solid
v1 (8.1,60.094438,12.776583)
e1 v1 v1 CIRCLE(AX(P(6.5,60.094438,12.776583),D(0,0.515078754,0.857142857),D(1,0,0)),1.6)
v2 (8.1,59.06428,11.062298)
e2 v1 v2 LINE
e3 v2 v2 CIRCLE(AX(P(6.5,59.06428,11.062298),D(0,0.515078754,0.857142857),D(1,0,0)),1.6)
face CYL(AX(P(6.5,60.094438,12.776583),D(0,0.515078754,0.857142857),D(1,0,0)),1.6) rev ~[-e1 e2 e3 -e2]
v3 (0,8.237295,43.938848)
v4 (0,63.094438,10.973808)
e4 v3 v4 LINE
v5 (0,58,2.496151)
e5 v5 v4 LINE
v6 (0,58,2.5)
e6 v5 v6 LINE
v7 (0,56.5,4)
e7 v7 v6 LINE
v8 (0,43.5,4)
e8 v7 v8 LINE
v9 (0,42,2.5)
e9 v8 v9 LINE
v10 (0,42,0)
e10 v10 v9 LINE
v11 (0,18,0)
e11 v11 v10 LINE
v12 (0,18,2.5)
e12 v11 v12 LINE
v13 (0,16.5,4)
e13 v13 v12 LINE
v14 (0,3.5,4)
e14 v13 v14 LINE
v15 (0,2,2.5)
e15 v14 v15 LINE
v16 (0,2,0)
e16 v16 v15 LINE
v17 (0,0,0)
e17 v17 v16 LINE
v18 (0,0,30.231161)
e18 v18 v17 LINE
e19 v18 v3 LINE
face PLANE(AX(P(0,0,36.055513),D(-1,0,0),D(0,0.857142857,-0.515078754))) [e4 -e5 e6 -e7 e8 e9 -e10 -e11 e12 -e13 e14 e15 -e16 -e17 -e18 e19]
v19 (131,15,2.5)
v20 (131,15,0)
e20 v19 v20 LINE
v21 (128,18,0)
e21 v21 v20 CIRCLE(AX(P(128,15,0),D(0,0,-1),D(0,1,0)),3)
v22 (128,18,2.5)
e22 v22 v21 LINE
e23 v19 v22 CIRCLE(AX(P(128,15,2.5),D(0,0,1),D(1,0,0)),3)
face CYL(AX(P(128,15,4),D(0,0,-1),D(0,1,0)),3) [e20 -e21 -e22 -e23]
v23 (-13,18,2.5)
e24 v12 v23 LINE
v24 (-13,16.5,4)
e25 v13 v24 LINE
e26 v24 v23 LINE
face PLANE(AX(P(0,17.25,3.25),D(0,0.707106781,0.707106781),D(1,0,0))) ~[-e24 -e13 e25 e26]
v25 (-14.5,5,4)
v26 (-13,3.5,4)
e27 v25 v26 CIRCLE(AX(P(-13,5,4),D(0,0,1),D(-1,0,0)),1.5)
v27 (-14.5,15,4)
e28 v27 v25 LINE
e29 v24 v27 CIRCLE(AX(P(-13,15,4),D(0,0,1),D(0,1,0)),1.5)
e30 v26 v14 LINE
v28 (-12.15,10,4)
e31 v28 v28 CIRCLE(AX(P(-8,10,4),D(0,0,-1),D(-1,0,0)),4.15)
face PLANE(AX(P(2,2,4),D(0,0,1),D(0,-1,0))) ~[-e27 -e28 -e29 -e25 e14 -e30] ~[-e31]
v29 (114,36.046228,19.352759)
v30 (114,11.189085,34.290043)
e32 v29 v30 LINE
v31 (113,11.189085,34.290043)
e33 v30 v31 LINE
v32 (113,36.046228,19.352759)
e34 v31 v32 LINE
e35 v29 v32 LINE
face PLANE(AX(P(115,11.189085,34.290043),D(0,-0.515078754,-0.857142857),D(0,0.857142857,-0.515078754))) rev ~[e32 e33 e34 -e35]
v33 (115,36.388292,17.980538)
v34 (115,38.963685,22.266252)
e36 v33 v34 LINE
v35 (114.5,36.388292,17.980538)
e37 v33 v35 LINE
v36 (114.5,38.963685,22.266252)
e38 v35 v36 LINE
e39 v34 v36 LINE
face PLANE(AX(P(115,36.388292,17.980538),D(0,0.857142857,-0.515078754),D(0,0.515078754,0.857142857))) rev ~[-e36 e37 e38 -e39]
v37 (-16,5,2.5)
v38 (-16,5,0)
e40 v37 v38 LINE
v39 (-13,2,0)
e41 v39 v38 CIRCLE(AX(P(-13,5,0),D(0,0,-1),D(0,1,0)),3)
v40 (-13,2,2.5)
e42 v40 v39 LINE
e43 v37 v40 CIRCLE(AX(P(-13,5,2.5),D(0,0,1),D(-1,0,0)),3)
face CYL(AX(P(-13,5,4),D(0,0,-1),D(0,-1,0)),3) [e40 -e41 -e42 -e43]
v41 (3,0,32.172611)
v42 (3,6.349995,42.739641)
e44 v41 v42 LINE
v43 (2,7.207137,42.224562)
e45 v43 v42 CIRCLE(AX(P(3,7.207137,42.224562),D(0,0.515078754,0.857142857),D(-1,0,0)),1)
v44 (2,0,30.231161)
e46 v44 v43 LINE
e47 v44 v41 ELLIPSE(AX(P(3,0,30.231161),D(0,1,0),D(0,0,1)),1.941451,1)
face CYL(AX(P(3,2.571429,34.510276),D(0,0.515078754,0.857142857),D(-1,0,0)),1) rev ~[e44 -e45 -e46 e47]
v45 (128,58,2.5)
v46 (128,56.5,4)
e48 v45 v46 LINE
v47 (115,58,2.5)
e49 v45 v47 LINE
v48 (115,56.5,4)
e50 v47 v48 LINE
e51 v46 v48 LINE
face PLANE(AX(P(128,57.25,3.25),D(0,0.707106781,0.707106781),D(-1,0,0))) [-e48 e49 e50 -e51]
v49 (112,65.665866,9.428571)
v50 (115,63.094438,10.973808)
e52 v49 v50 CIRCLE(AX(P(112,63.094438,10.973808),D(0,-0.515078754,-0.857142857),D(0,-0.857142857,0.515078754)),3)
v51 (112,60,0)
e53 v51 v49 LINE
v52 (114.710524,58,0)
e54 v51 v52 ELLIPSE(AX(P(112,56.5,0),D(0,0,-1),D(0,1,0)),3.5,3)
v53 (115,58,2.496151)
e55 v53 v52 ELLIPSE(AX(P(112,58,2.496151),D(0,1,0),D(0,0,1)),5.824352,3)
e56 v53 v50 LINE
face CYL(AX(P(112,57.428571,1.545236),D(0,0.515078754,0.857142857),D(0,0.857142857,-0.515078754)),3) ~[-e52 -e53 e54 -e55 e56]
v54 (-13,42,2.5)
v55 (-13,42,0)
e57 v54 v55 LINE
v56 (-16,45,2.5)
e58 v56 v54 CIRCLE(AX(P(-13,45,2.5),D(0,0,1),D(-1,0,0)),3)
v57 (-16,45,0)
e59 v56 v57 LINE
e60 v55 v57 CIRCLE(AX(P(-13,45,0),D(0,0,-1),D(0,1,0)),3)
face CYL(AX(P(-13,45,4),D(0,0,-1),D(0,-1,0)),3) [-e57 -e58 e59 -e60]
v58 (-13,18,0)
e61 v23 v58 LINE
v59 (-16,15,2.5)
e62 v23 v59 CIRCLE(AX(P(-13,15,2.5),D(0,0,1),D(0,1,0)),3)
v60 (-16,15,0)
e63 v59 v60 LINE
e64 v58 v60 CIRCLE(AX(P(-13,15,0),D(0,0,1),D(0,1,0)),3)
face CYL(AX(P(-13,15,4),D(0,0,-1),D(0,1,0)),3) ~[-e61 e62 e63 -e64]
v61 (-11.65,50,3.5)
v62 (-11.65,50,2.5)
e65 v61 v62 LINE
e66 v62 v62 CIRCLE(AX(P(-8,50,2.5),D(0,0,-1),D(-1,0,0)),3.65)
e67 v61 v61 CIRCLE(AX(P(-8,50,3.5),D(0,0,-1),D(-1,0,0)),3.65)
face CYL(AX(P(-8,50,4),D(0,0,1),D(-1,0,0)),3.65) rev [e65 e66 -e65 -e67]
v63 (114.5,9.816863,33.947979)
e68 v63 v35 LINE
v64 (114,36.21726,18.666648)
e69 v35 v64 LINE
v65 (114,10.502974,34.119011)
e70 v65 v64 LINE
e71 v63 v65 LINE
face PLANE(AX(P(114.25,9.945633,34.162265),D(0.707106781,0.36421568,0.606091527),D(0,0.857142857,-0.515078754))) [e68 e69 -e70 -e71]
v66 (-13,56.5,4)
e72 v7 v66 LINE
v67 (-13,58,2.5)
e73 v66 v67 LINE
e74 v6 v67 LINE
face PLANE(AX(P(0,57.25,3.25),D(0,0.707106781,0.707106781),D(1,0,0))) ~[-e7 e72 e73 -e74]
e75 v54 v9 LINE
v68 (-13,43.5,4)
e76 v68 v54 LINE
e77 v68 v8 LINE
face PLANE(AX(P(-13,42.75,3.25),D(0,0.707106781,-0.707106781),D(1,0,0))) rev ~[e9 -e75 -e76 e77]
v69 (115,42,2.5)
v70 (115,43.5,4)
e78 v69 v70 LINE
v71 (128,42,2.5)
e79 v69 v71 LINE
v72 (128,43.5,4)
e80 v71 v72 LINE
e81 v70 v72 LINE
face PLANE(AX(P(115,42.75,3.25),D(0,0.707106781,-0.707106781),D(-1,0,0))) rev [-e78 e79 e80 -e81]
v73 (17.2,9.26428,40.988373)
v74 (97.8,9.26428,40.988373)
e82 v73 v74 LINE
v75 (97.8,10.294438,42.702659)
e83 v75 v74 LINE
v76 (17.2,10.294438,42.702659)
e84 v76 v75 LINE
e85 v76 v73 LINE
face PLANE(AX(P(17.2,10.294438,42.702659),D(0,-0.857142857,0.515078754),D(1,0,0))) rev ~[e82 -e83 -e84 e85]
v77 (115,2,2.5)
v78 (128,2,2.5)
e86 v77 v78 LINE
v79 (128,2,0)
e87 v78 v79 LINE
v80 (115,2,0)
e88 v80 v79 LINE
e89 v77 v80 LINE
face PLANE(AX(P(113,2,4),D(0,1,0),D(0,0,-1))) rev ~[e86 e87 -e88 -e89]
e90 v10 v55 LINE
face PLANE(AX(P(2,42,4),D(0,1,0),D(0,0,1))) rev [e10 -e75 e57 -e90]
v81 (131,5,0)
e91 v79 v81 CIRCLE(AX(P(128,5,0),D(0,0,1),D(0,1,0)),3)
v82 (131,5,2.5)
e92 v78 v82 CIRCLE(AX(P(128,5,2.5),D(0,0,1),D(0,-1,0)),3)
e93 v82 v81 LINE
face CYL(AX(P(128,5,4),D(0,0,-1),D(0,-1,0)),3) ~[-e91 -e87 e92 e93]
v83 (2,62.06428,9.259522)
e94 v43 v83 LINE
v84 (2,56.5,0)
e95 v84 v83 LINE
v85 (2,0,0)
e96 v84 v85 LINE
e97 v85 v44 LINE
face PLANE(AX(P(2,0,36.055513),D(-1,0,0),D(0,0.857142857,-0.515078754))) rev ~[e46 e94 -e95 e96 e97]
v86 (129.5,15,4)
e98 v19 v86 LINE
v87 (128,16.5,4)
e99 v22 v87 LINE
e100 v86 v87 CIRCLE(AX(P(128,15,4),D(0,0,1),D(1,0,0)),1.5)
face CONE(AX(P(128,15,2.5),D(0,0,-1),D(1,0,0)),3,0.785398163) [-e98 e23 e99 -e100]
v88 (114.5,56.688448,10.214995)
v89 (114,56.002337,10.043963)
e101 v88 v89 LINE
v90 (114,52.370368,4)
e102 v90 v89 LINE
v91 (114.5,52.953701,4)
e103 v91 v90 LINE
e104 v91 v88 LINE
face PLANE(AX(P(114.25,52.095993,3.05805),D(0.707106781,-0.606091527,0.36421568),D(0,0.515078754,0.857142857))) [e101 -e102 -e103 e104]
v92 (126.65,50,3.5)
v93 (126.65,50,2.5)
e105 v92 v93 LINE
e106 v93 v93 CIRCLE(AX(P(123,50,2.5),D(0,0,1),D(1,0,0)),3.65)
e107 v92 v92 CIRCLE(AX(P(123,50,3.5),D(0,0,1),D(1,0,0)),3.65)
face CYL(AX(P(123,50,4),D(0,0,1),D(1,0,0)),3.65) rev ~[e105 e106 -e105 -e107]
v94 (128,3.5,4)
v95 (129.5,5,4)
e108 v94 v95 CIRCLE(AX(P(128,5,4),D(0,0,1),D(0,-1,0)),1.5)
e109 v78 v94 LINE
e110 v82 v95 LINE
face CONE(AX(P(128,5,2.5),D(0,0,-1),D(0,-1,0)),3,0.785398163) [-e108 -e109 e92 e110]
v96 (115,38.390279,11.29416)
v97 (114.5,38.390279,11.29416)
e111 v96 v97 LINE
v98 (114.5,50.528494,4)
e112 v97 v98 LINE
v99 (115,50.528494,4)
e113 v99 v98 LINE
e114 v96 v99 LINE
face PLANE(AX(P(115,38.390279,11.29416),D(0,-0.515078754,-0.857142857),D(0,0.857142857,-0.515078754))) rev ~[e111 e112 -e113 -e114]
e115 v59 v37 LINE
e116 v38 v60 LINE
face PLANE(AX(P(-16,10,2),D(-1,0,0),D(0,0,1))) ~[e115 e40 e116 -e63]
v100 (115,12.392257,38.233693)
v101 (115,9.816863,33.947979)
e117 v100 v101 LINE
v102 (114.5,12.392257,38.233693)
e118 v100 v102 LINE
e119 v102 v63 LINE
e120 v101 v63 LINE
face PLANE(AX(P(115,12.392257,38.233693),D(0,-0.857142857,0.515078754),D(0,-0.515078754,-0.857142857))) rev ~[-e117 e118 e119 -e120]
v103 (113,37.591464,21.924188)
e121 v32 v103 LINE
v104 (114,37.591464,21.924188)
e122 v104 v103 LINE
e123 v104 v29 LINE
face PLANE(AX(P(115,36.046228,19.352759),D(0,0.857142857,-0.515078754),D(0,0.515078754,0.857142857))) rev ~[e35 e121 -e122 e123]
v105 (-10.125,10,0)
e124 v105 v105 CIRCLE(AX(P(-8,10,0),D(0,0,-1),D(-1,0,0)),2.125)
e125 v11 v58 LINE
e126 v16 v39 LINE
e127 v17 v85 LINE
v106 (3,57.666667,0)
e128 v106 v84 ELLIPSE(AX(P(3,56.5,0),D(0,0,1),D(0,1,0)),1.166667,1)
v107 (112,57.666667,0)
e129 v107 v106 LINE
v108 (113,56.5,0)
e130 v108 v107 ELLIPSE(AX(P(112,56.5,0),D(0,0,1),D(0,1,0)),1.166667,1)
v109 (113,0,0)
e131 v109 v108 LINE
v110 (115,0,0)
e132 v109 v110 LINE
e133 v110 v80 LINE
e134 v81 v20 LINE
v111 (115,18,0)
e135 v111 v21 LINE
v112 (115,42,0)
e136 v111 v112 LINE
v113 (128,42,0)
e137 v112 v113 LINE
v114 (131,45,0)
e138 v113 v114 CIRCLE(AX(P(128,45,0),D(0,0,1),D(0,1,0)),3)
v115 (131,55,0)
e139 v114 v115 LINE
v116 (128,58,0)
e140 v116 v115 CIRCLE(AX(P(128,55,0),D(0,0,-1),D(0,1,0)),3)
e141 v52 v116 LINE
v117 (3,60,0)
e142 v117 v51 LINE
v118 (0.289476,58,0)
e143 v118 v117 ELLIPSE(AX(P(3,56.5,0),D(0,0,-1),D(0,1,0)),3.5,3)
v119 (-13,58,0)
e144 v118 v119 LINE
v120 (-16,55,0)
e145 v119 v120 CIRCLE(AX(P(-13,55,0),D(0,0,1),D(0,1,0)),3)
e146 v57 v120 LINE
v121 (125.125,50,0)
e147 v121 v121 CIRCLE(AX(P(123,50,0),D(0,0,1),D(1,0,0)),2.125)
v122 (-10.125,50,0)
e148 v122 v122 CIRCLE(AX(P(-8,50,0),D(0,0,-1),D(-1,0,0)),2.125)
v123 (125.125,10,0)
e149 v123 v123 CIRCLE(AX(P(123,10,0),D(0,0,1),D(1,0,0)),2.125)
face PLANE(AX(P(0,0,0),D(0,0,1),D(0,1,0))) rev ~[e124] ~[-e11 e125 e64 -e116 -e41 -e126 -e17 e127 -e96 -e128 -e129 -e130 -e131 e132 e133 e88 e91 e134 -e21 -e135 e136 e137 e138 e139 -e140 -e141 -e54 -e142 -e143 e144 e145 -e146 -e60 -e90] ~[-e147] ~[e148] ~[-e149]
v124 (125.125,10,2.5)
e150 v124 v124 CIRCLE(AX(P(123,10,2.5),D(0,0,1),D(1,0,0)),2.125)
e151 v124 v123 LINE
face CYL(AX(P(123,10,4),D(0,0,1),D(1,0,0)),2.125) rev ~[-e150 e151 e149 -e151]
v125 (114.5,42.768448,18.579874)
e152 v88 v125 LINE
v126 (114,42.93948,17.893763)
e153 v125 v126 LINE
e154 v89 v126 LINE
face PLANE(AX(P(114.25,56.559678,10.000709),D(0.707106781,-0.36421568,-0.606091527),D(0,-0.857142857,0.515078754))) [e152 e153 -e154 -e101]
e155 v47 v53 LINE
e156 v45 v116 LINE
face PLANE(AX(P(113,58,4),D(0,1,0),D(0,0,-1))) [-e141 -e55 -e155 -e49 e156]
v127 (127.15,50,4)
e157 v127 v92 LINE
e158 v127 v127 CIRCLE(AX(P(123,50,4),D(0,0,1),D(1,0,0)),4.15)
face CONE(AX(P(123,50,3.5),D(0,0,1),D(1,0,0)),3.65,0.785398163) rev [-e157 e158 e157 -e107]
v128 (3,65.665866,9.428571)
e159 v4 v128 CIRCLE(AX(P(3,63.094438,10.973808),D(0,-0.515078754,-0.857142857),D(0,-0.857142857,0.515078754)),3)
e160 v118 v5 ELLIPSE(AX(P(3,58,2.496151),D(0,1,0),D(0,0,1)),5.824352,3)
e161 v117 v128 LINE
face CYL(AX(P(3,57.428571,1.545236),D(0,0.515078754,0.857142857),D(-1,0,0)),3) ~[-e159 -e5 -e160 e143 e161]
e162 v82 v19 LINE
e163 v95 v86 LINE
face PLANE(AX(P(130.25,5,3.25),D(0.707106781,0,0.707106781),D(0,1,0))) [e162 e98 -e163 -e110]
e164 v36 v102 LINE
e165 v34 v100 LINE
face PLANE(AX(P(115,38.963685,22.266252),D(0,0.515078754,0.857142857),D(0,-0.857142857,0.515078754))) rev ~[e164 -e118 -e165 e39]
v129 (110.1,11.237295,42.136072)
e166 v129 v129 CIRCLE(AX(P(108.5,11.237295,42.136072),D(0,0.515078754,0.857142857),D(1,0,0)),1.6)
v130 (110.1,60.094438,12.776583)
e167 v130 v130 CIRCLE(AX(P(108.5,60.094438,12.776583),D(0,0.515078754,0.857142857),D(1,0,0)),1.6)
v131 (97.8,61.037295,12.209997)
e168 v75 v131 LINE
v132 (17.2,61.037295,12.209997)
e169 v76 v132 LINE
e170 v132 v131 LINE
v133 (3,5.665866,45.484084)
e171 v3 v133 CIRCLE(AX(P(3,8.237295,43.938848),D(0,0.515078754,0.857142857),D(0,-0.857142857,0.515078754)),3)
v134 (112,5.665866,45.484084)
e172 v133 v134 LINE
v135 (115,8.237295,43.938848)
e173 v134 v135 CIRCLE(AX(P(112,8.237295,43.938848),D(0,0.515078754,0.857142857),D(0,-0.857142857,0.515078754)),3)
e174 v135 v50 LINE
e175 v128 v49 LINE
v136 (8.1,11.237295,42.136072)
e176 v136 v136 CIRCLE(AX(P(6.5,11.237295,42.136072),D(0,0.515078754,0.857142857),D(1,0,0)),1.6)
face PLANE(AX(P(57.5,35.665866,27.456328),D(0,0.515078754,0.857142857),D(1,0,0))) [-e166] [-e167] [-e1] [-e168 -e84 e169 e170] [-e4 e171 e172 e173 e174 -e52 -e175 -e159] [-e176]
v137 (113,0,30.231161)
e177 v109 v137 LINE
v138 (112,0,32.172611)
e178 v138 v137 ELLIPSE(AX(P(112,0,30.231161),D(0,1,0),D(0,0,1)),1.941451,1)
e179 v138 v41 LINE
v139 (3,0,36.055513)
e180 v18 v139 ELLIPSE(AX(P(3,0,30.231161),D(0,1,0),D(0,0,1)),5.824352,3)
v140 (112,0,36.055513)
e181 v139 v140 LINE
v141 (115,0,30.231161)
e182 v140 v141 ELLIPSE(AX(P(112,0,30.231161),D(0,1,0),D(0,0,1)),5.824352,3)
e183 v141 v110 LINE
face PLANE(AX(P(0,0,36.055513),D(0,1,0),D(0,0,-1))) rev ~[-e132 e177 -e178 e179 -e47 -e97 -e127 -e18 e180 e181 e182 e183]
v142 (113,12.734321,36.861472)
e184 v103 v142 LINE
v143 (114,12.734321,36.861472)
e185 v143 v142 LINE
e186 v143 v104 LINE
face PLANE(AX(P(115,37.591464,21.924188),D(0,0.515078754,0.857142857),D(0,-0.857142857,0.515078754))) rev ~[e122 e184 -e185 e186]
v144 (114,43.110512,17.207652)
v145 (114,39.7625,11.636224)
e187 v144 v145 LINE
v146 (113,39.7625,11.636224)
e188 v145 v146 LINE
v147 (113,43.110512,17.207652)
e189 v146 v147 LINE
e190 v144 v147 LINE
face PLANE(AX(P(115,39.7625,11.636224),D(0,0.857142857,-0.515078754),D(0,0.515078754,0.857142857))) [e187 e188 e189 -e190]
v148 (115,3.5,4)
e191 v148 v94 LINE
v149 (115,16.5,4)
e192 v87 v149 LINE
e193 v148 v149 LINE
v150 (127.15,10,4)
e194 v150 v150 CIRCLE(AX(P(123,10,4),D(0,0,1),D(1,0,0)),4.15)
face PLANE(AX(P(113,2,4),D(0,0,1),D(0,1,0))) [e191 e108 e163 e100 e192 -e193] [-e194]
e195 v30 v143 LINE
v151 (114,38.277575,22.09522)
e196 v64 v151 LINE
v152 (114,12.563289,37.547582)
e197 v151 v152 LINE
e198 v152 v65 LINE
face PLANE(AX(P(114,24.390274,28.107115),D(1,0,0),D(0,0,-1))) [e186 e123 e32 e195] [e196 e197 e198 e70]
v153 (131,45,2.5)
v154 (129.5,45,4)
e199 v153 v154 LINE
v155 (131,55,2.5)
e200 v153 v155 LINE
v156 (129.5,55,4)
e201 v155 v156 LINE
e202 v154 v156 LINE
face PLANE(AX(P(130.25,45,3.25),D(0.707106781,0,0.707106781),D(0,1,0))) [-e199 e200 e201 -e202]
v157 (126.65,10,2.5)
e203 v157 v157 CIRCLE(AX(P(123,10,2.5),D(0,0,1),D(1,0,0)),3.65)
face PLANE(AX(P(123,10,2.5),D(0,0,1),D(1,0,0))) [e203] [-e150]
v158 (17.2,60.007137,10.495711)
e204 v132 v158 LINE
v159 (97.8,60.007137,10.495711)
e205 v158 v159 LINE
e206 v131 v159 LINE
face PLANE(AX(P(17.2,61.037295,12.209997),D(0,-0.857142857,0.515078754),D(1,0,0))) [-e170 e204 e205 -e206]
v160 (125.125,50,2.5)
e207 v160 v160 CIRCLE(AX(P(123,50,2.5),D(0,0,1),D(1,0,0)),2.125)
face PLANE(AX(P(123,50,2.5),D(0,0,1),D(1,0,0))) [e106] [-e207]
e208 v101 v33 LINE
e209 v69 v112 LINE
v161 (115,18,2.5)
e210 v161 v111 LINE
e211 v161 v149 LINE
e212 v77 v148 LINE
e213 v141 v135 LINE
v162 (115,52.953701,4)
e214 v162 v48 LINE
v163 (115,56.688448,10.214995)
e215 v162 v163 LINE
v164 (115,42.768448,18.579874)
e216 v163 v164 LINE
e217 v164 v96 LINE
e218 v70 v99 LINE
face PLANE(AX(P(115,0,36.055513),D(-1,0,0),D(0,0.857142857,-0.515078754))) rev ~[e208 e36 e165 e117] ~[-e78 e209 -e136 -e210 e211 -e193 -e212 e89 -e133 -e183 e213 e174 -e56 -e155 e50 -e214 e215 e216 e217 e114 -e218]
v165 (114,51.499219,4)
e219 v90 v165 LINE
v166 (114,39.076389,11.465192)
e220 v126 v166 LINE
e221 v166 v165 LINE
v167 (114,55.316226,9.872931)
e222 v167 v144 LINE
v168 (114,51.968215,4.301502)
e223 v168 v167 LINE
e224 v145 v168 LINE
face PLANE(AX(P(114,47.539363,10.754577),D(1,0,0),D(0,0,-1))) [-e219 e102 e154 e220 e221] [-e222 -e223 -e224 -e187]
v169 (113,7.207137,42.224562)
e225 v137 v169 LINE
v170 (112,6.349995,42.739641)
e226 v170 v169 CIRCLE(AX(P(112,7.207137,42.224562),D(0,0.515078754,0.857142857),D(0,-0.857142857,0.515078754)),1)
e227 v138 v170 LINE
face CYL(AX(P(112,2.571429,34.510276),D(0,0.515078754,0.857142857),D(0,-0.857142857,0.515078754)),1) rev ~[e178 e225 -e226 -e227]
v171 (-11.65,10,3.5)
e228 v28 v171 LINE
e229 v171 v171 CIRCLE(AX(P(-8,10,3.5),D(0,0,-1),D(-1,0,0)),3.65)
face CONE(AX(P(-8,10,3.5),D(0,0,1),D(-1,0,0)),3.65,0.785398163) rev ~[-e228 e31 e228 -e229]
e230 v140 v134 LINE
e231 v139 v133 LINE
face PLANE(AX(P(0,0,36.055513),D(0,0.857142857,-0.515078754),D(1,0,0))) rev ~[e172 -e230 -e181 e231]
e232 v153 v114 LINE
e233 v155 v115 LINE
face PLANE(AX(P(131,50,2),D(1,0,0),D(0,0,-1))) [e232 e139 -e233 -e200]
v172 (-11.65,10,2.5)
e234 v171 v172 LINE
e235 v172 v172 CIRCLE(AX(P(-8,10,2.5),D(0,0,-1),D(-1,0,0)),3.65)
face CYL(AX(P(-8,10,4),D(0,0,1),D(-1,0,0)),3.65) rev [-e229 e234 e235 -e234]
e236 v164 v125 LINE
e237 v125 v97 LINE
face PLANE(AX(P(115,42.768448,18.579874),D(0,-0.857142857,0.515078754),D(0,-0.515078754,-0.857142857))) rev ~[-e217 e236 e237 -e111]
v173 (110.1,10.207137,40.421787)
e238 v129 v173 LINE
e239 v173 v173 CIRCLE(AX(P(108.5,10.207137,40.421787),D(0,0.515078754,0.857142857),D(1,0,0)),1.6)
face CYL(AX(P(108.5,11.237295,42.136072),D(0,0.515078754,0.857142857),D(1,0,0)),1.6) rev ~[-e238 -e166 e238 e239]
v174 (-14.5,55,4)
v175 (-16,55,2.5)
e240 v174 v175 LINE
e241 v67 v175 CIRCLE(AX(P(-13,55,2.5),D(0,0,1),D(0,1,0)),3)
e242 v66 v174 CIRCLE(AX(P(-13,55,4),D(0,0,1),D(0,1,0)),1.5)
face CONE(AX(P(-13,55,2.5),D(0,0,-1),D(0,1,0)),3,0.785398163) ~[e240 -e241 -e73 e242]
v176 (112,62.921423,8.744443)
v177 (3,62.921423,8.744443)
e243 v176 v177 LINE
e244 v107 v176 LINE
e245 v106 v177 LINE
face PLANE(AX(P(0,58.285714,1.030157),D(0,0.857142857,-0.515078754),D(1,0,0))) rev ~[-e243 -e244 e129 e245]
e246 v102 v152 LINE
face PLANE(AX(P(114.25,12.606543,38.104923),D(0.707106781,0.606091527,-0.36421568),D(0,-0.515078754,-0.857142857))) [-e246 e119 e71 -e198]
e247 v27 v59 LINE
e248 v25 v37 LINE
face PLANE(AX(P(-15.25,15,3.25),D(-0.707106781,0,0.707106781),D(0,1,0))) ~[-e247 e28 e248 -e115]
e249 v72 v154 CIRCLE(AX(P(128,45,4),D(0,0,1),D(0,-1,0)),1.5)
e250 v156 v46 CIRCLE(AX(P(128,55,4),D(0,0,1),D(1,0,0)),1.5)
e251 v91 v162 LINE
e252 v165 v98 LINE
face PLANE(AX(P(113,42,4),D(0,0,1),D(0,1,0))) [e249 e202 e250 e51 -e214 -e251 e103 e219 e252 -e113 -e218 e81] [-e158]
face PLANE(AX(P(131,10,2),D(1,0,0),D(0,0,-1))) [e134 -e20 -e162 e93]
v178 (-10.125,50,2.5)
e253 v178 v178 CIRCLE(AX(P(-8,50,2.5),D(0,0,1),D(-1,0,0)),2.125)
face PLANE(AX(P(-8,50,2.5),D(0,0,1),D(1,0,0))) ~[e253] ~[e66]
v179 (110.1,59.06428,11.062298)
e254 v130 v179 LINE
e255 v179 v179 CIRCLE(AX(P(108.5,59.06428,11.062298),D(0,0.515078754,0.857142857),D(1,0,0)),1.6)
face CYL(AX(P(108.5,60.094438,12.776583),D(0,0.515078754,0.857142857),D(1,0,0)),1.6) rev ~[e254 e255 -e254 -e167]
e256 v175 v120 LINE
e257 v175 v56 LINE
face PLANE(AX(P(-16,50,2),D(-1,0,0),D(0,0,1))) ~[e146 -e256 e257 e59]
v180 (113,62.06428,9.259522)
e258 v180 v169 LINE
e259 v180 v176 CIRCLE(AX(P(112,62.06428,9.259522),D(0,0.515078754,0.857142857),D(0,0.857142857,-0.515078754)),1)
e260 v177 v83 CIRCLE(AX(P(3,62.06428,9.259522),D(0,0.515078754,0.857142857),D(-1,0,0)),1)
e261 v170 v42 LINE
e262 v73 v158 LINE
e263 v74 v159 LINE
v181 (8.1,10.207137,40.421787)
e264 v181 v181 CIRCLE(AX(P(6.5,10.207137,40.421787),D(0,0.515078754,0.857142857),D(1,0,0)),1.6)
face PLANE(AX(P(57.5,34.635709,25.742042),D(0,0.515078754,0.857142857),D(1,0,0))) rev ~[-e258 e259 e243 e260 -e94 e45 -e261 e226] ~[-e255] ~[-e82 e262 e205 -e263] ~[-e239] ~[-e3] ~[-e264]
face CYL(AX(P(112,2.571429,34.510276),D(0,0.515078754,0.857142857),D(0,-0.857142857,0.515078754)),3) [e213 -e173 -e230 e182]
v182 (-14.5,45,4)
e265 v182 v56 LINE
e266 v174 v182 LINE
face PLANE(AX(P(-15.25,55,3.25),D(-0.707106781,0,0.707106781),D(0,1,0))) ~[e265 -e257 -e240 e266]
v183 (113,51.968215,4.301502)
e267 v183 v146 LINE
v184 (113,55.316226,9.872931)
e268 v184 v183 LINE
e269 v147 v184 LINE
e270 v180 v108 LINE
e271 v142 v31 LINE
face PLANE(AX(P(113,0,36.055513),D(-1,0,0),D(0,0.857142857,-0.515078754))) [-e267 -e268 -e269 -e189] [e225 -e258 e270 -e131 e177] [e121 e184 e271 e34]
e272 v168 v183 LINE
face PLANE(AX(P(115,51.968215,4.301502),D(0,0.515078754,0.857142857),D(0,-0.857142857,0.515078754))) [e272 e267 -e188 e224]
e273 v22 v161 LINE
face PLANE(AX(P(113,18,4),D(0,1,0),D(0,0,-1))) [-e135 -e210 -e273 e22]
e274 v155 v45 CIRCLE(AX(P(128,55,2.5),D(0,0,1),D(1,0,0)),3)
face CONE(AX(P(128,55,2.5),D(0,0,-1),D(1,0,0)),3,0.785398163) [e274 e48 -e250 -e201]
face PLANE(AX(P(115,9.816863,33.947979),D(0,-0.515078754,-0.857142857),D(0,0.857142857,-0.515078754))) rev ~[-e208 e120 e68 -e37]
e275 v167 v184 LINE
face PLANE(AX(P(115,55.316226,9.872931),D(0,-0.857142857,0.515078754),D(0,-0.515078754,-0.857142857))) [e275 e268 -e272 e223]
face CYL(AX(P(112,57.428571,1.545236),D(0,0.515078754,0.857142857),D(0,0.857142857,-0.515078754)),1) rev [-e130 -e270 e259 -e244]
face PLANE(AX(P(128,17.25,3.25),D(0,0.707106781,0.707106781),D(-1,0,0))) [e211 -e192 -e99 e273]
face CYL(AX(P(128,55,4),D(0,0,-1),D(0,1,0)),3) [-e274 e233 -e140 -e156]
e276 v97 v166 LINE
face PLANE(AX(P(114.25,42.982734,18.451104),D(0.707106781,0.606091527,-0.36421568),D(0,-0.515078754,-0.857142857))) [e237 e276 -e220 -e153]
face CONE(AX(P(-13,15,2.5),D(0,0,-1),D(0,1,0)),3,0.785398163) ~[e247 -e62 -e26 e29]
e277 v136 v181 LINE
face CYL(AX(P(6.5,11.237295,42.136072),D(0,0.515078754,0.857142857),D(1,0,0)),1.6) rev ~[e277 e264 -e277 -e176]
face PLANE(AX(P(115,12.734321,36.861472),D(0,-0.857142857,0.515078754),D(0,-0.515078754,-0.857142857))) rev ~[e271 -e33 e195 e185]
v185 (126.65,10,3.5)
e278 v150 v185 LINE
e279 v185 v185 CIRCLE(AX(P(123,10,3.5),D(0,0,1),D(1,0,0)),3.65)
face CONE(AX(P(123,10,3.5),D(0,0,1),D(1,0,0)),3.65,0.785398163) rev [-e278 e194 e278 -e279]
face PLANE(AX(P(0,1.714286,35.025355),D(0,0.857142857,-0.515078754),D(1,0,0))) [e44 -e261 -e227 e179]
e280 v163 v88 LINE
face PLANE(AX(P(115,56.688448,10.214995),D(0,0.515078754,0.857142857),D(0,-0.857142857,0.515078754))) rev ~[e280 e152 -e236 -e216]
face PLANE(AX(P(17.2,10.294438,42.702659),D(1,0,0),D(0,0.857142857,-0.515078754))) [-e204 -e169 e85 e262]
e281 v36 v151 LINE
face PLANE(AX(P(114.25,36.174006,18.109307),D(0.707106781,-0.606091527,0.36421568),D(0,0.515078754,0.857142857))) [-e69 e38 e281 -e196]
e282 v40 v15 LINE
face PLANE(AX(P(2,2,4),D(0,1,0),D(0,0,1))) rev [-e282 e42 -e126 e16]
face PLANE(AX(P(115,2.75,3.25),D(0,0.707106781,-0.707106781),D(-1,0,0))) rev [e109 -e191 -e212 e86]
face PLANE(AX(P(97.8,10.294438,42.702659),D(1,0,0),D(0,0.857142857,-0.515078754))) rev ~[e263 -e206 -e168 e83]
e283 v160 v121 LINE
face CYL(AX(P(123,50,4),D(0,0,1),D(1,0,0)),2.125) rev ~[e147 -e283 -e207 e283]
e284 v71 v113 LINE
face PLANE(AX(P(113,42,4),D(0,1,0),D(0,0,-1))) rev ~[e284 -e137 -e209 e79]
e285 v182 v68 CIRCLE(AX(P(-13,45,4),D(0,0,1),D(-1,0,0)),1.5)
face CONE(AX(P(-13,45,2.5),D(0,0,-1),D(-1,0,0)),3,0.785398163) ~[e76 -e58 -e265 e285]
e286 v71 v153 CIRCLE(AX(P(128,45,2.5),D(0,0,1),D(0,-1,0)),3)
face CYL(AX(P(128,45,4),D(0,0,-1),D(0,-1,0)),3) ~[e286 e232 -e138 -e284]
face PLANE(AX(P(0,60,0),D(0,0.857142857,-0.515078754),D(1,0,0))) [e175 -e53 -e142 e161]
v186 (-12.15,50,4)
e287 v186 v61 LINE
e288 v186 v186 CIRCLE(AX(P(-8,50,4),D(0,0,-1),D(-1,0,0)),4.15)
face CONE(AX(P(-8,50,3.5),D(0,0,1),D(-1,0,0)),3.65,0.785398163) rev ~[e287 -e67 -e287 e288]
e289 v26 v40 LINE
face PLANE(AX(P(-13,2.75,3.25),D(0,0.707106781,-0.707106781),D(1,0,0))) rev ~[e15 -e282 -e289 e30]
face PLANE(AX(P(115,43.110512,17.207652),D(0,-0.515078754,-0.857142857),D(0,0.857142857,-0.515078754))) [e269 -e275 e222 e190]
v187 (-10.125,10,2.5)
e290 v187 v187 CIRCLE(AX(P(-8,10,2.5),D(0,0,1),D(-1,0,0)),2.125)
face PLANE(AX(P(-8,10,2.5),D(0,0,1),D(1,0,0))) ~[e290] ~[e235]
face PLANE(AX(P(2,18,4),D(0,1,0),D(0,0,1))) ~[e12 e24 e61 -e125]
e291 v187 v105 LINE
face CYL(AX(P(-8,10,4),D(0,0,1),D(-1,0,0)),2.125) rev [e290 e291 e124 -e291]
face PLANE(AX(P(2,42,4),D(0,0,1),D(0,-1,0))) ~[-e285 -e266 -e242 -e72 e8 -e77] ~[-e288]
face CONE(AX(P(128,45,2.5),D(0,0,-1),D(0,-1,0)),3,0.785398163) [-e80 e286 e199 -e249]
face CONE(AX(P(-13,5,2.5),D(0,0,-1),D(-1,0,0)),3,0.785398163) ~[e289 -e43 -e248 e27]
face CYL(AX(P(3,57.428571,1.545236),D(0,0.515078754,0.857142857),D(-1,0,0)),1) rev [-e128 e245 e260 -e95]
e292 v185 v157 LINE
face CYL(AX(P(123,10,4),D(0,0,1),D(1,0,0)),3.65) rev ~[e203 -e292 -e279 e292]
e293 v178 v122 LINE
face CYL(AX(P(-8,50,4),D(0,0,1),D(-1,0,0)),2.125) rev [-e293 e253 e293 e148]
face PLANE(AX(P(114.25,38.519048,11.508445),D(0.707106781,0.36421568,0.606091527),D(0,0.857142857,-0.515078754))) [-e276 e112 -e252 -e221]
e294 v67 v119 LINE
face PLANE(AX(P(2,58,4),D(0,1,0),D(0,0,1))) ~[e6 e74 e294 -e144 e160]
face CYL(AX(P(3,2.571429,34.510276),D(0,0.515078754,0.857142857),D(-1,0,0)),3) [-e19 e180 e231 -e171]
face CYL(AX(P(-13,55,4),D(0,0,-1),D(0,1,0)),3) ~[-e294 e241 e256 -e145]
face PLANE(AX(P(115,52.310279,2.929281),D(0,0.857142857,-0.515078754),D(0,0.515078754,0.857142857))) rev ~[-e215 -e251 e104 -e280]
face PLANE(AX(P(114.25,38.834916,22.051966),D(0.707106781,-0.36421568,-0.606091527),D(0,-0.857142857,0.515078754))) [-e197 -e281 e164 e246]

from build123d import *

# Parameters (mm, degrees)
BOSS_EXTRUDE1_DEPTH      = 115
SKETCH2_W                = 115
SKETCH2_H                = 70
BOSS_EXTRUDE2_DEPTH      = 11
FILLET1_R                = 3
SHELL1_T                 = -2
SKETCH3_R                = 1.6
CUT_EXTRUDE1_DEPTH       = 2
SKETCH4_W                = 80.6
SKETCH4_H                = 59.2
CUT_EXTRUDE2_DEPTH       = 2
CUT_EXTRUDE3_DEPTH       = 2
CUT_EXTRUDE4_DEPTH       = 1
CHAMFER3_SIZE            = 0.5
BOSS_EXTRUDE3_START      = -2
SKETCH7_W                = 4
SKETCH7_H                = 16
BOSS_EXTRUDE3_DEPTH      = 18
SKETCH8_R                = 2.125
CUT_EXTRUDE5_DEPTH       = 4
SKETCH9_R                = 3.65
CUT_EXTRUDE6_DEPTH       = 1.5
CHAMFER4_SIZE            = 0.5
FILLET2_R                = 3
CHAMFER4_OF_MIRROR1_SIZE = 0.5
FILLET2_OF_MIRROR1_R     = 3
CHAMFER5_SIZE            = 1.5


with BuildPart() as part:
    # Sketch1 → Boss-Extrude1 (new body)
    with BuildSketch(Plane(origin=(0, 0, 0), x_dir=(0, 0, -1), z_dir=(1, 0, 0))):
        Polygon((0, 0), (0, 60), (-36.055512755, 0), align=None)
    extrude(amount=BOSS_EXTRUDE1_DEPTH)

    # Sketch2 → Boss-Extrude2 (add)
    with BuildSketch(Plane(origin=(0, 15.918367347, 26.489764473), x_dir=(1, 0, 0), z_dir=(0, 0.515078754, 0.857142857))):
        with Locations((57.5, 16.428571429)):
            Rectangle(SKETCH2_W, SKETCH2_H)
    extrude(amount=BOSS_EXTRUDE2_DEPTH)

    # Fillet1
    fillet1_edges = [part.edges().sort_by_distance(p)[0] for p in [
        (0, 62.832933145, 4.714285714),
        (0, 2.832933145, 40.769798469),
        (115, 2.832933145, 40.769798469),
        (115, 62.832933145, 4.714285714),
    ]]
    fillet(fillet1_edges, radius=FILLET1_R)

    # Shell1
    shell1_openings = [part.faces().sort_by_distance(p)[0] for p in [
        (57.5, 39.074957911, 0),
        (57.5, 0, 22.497645419),
    ]]
    offset(amount=SHELL1_T, openings=shell1_openings, kind=Kind.INTERSECTION)

    # Sketch3 → Cut-Extrude1 (cut)
    with BuildSketch(Plane(origin=(0, 21.584233637, 35.918335901), x_dir=(1, 0, 0), z_dir=(0, 0.515078754, 0.857142857))):
        with Locations((6.5, 44.928571429)):
            Circle(SKETCH3_R)
        with Locations((6.5, -12.071428571)):
            Circle(SKETCH3_R)
        with Locations((108.5, -12.071428571)):
            Circle(SKETCH3_R)
        with Locations((108.5, 44.928571429)):
            Circle(SKETCH3_R)
    extrude(amount=-CUT_EXTRUDE1_DEPTH, mode=Mode.SUBTRACT)

    # Sketch4 → Cut-Extrude2 (cut)
    with BuildSketch(Plane(origin=(0, 21.584233637, 35.918335901), x_dir=(1, 0, 0), z_dir=(0, 0.515078754, 0.857142857))):
        with Locations((57.5, 16.428571429)):
            Rectangle(SKETCH4_W, SKETCH4_H)
    extrude(amount=-CUT_EXTRUDE2_DEPTH, mode=Mode.SUBTRACT)

    # Sketch5 → Cut-Extrude3 (cut)
    with BuildSketch(Plane(origin=(115, 0, 0), x_dir=(0, 0, -1), z_dir=(1, 0, 0))):
        Polygon((-36.861471556, 12.734320964), (-34.290042984, 11.189084703), (-19.352759129, 36.04622756), (-21.9241877, 37.591463821), align=None)
        Polygon((-17.207652396, 43.110512174), (-9.872930944, 55.31622646), (-4.301502372, 51.968214561), (-11.636223824, 39.762500275), align=None)
    extrude(amount=-CUT_EXTRUDE3_DEPTH, mode=Mode.SUBTRACT)

    # Sketch6 → Cut-Extrude4 (cut)
    with BuildSketch(Plane(origin=(115, 0, 0), x_dir=(0, 0, -1), z_dir=(1, 0, 0))):
        Polygon((-38.233693167, 12.39225686), (-33.947978881, 9.816863092), (-17.980537518, 36.388291664), (-22.266251804, 38.963685432), align=None)
        Polygon((-11.294159721, 38.390278664), (-2.929280762, 52.310278664), (-10.214995047, 56.68844807), (-18.579874006, 42.76844807), align=None)
    extrude(amount=-CUT_EXTRUDE4_DEPTH, mode=Mode.SUBTRACT)

    # Chamfer3
    chamfer3_edges = [part.edges().sort_by_distance(p)[0] for p in [
        (114, 40.579363367, 14.937016864),
        (114, 49.72844807, 14.397434527),
        (114, 54.499363367, 6.572137904),
        (114, 45.350278664, 7.111720241),
        (114, 25.677971146, 30.249972485),
        (114, 37.675988548, 20.123394661),
        (114, 23.102577378, 25.964258199),
        (114, 11.104559976, 36.090836024),
    ]]
    chamfer(chamfer3_edges, length=CHAMFER3_SIZE)

    # Sketch7 → Boss-Extrude3 (add)
    with BuildSketch(Plane(origin=(115, 0, 0), x_dir=(0, 0, -1), z_dir=(1, 0, 0)).offset(BOSS_EXTRUDE3_START)):
        with Locations((-2, 50)):
            Rectangle(SKETCH7_W, SKETCH7_H)
        with Locations((-2, 10)):
            Rectangle(SKETCH7_W, SKETCH7_H)
    boss_extrude3 = extrude(amount=BOSS_EXTRUDE3_DEPTH)

    # Sketch8 → Cut-Extrude5 (cut)
    with BuildSketch(Plane.XY.offset(4)):
        with Locations((123, 50)):
            Circle(SKETCH8_R)
        with Locations((123, 10)):
            Circle(SKETCH8_R)
    cut_extrude5 = extrude(amount=-CUT_EXTRUDE5_DEPTH, mode=Mode.SUBTRACT)

    # Sketch9 → Cut-Extrude6 (cut)
    with BuildSketch(Plane.XY.offset(4)):
        with Locations((123, 50)):
            Circle(SKETCH9_R)
        with Locations((123, 10)):
            Circle(SKETCH9_R)
    cut_extrude6 = extrude(amount=-CUT_EXTRUDE6_DEPTH, mode=Mode.SUBTRACT)

    # Chamfer4
    chamfer4_edges = [part.edges().sort_by_distance(p)[0] for p in [
        (119.35, 50, 4),
        (119.35, 10, 4),
    ]]
    chamfer(chamfer4_edges, length=CHAMFER4_SIZE)

    # Fillet2
    fillet2_edges = [part.edges().sort_by_distance(p)[0] for p in [
        (131, 58, 2),
        (131, 42, 2),
        (131, 18, 2),
        (131, 2, 2),
    ]]
    fillet(fillet2_edges, radius=FILLET2_R)

    # Mirror1: Boss-Extrude3, Cut-Extrude5, Cut-Extrude6 across plane
    add(boss_extrude3.mirror(Plane(origin=(57.5, 0, 0), x_dir=(0, 0, 1), z_dir=(1, 0, 0))))
    add(cut_extrude5.mirror(Plane(origin=(57.5, 0, 0), x_dir=(0, 0, 1), z_dir=(1, 0, 0))), mode=Mode.SUBTRACT)
    add(cut_extrude6.mirror(Plane(origin=(57.5, 0, 0), x_dir=(0, 0, 1), z_dir=(1, 0, 0))), mode=Mode.SUBTRACT)

    # Chamfer4 of Mirror1
    chamfer4_of_mirror1_edges = [part.edges().sort_by_distance(p)[0] for p in [
        (-4.35, 50, 4),
        (-4.35, 10, 4),
    ]]
    chamfer(chamfer4_of_mirror1_edges, length=CHAMFER4_OF_MIRROR1_SIZE)

    # Fillet2 of Mirror1
    fillet2_of_mirror1_edges = [part.edges().sort_by_distance(p)[0] for p in [
        (-16, 58, 2),
        (-16, 42, 2),
        (-16, 18, 2),
        (-16, 2, 2),
    ]]
    fillet(fillet2_of_mirror1_edges, radius=FILLET2_OF_MIRROR1_R)

    # Chamfer5
    chamfer5_edges = [part.edges().sort_by_distance(p)[0] for p in [
        (121.5, 42, 4),
        (121.5, 58, 4),
        (121.5, 2, 4),
        (121.5, 18, 4),
        (131, 10, 4),
        (130.121320344, 2.878679656, 4),
        (130.121320344, 17.121320344, 4),
        (131, 50, 4),
        (130.121320344, 42.878679656, 4),
        (130.121320344, 57.121320344, 4),
        (-6.5, 58, 4),
        (-6.5, 42, 4),
        (-6.5, 18, 4),
        (-6.5, 2, 4),
        (-16, 10, 4),
        (-15.121320344, 2.878679656, 4),
        (-15.121320344, 17.121320344, 4),
        (-16, 50, 4),
        (-15.121320344, 42.878679656, 4),
        (-15.121320344, 57.121320344, 4),
    ]]
    chamfer(chamfer5_edges, length=CHAMFER5_SIZE)


solid = part.part
